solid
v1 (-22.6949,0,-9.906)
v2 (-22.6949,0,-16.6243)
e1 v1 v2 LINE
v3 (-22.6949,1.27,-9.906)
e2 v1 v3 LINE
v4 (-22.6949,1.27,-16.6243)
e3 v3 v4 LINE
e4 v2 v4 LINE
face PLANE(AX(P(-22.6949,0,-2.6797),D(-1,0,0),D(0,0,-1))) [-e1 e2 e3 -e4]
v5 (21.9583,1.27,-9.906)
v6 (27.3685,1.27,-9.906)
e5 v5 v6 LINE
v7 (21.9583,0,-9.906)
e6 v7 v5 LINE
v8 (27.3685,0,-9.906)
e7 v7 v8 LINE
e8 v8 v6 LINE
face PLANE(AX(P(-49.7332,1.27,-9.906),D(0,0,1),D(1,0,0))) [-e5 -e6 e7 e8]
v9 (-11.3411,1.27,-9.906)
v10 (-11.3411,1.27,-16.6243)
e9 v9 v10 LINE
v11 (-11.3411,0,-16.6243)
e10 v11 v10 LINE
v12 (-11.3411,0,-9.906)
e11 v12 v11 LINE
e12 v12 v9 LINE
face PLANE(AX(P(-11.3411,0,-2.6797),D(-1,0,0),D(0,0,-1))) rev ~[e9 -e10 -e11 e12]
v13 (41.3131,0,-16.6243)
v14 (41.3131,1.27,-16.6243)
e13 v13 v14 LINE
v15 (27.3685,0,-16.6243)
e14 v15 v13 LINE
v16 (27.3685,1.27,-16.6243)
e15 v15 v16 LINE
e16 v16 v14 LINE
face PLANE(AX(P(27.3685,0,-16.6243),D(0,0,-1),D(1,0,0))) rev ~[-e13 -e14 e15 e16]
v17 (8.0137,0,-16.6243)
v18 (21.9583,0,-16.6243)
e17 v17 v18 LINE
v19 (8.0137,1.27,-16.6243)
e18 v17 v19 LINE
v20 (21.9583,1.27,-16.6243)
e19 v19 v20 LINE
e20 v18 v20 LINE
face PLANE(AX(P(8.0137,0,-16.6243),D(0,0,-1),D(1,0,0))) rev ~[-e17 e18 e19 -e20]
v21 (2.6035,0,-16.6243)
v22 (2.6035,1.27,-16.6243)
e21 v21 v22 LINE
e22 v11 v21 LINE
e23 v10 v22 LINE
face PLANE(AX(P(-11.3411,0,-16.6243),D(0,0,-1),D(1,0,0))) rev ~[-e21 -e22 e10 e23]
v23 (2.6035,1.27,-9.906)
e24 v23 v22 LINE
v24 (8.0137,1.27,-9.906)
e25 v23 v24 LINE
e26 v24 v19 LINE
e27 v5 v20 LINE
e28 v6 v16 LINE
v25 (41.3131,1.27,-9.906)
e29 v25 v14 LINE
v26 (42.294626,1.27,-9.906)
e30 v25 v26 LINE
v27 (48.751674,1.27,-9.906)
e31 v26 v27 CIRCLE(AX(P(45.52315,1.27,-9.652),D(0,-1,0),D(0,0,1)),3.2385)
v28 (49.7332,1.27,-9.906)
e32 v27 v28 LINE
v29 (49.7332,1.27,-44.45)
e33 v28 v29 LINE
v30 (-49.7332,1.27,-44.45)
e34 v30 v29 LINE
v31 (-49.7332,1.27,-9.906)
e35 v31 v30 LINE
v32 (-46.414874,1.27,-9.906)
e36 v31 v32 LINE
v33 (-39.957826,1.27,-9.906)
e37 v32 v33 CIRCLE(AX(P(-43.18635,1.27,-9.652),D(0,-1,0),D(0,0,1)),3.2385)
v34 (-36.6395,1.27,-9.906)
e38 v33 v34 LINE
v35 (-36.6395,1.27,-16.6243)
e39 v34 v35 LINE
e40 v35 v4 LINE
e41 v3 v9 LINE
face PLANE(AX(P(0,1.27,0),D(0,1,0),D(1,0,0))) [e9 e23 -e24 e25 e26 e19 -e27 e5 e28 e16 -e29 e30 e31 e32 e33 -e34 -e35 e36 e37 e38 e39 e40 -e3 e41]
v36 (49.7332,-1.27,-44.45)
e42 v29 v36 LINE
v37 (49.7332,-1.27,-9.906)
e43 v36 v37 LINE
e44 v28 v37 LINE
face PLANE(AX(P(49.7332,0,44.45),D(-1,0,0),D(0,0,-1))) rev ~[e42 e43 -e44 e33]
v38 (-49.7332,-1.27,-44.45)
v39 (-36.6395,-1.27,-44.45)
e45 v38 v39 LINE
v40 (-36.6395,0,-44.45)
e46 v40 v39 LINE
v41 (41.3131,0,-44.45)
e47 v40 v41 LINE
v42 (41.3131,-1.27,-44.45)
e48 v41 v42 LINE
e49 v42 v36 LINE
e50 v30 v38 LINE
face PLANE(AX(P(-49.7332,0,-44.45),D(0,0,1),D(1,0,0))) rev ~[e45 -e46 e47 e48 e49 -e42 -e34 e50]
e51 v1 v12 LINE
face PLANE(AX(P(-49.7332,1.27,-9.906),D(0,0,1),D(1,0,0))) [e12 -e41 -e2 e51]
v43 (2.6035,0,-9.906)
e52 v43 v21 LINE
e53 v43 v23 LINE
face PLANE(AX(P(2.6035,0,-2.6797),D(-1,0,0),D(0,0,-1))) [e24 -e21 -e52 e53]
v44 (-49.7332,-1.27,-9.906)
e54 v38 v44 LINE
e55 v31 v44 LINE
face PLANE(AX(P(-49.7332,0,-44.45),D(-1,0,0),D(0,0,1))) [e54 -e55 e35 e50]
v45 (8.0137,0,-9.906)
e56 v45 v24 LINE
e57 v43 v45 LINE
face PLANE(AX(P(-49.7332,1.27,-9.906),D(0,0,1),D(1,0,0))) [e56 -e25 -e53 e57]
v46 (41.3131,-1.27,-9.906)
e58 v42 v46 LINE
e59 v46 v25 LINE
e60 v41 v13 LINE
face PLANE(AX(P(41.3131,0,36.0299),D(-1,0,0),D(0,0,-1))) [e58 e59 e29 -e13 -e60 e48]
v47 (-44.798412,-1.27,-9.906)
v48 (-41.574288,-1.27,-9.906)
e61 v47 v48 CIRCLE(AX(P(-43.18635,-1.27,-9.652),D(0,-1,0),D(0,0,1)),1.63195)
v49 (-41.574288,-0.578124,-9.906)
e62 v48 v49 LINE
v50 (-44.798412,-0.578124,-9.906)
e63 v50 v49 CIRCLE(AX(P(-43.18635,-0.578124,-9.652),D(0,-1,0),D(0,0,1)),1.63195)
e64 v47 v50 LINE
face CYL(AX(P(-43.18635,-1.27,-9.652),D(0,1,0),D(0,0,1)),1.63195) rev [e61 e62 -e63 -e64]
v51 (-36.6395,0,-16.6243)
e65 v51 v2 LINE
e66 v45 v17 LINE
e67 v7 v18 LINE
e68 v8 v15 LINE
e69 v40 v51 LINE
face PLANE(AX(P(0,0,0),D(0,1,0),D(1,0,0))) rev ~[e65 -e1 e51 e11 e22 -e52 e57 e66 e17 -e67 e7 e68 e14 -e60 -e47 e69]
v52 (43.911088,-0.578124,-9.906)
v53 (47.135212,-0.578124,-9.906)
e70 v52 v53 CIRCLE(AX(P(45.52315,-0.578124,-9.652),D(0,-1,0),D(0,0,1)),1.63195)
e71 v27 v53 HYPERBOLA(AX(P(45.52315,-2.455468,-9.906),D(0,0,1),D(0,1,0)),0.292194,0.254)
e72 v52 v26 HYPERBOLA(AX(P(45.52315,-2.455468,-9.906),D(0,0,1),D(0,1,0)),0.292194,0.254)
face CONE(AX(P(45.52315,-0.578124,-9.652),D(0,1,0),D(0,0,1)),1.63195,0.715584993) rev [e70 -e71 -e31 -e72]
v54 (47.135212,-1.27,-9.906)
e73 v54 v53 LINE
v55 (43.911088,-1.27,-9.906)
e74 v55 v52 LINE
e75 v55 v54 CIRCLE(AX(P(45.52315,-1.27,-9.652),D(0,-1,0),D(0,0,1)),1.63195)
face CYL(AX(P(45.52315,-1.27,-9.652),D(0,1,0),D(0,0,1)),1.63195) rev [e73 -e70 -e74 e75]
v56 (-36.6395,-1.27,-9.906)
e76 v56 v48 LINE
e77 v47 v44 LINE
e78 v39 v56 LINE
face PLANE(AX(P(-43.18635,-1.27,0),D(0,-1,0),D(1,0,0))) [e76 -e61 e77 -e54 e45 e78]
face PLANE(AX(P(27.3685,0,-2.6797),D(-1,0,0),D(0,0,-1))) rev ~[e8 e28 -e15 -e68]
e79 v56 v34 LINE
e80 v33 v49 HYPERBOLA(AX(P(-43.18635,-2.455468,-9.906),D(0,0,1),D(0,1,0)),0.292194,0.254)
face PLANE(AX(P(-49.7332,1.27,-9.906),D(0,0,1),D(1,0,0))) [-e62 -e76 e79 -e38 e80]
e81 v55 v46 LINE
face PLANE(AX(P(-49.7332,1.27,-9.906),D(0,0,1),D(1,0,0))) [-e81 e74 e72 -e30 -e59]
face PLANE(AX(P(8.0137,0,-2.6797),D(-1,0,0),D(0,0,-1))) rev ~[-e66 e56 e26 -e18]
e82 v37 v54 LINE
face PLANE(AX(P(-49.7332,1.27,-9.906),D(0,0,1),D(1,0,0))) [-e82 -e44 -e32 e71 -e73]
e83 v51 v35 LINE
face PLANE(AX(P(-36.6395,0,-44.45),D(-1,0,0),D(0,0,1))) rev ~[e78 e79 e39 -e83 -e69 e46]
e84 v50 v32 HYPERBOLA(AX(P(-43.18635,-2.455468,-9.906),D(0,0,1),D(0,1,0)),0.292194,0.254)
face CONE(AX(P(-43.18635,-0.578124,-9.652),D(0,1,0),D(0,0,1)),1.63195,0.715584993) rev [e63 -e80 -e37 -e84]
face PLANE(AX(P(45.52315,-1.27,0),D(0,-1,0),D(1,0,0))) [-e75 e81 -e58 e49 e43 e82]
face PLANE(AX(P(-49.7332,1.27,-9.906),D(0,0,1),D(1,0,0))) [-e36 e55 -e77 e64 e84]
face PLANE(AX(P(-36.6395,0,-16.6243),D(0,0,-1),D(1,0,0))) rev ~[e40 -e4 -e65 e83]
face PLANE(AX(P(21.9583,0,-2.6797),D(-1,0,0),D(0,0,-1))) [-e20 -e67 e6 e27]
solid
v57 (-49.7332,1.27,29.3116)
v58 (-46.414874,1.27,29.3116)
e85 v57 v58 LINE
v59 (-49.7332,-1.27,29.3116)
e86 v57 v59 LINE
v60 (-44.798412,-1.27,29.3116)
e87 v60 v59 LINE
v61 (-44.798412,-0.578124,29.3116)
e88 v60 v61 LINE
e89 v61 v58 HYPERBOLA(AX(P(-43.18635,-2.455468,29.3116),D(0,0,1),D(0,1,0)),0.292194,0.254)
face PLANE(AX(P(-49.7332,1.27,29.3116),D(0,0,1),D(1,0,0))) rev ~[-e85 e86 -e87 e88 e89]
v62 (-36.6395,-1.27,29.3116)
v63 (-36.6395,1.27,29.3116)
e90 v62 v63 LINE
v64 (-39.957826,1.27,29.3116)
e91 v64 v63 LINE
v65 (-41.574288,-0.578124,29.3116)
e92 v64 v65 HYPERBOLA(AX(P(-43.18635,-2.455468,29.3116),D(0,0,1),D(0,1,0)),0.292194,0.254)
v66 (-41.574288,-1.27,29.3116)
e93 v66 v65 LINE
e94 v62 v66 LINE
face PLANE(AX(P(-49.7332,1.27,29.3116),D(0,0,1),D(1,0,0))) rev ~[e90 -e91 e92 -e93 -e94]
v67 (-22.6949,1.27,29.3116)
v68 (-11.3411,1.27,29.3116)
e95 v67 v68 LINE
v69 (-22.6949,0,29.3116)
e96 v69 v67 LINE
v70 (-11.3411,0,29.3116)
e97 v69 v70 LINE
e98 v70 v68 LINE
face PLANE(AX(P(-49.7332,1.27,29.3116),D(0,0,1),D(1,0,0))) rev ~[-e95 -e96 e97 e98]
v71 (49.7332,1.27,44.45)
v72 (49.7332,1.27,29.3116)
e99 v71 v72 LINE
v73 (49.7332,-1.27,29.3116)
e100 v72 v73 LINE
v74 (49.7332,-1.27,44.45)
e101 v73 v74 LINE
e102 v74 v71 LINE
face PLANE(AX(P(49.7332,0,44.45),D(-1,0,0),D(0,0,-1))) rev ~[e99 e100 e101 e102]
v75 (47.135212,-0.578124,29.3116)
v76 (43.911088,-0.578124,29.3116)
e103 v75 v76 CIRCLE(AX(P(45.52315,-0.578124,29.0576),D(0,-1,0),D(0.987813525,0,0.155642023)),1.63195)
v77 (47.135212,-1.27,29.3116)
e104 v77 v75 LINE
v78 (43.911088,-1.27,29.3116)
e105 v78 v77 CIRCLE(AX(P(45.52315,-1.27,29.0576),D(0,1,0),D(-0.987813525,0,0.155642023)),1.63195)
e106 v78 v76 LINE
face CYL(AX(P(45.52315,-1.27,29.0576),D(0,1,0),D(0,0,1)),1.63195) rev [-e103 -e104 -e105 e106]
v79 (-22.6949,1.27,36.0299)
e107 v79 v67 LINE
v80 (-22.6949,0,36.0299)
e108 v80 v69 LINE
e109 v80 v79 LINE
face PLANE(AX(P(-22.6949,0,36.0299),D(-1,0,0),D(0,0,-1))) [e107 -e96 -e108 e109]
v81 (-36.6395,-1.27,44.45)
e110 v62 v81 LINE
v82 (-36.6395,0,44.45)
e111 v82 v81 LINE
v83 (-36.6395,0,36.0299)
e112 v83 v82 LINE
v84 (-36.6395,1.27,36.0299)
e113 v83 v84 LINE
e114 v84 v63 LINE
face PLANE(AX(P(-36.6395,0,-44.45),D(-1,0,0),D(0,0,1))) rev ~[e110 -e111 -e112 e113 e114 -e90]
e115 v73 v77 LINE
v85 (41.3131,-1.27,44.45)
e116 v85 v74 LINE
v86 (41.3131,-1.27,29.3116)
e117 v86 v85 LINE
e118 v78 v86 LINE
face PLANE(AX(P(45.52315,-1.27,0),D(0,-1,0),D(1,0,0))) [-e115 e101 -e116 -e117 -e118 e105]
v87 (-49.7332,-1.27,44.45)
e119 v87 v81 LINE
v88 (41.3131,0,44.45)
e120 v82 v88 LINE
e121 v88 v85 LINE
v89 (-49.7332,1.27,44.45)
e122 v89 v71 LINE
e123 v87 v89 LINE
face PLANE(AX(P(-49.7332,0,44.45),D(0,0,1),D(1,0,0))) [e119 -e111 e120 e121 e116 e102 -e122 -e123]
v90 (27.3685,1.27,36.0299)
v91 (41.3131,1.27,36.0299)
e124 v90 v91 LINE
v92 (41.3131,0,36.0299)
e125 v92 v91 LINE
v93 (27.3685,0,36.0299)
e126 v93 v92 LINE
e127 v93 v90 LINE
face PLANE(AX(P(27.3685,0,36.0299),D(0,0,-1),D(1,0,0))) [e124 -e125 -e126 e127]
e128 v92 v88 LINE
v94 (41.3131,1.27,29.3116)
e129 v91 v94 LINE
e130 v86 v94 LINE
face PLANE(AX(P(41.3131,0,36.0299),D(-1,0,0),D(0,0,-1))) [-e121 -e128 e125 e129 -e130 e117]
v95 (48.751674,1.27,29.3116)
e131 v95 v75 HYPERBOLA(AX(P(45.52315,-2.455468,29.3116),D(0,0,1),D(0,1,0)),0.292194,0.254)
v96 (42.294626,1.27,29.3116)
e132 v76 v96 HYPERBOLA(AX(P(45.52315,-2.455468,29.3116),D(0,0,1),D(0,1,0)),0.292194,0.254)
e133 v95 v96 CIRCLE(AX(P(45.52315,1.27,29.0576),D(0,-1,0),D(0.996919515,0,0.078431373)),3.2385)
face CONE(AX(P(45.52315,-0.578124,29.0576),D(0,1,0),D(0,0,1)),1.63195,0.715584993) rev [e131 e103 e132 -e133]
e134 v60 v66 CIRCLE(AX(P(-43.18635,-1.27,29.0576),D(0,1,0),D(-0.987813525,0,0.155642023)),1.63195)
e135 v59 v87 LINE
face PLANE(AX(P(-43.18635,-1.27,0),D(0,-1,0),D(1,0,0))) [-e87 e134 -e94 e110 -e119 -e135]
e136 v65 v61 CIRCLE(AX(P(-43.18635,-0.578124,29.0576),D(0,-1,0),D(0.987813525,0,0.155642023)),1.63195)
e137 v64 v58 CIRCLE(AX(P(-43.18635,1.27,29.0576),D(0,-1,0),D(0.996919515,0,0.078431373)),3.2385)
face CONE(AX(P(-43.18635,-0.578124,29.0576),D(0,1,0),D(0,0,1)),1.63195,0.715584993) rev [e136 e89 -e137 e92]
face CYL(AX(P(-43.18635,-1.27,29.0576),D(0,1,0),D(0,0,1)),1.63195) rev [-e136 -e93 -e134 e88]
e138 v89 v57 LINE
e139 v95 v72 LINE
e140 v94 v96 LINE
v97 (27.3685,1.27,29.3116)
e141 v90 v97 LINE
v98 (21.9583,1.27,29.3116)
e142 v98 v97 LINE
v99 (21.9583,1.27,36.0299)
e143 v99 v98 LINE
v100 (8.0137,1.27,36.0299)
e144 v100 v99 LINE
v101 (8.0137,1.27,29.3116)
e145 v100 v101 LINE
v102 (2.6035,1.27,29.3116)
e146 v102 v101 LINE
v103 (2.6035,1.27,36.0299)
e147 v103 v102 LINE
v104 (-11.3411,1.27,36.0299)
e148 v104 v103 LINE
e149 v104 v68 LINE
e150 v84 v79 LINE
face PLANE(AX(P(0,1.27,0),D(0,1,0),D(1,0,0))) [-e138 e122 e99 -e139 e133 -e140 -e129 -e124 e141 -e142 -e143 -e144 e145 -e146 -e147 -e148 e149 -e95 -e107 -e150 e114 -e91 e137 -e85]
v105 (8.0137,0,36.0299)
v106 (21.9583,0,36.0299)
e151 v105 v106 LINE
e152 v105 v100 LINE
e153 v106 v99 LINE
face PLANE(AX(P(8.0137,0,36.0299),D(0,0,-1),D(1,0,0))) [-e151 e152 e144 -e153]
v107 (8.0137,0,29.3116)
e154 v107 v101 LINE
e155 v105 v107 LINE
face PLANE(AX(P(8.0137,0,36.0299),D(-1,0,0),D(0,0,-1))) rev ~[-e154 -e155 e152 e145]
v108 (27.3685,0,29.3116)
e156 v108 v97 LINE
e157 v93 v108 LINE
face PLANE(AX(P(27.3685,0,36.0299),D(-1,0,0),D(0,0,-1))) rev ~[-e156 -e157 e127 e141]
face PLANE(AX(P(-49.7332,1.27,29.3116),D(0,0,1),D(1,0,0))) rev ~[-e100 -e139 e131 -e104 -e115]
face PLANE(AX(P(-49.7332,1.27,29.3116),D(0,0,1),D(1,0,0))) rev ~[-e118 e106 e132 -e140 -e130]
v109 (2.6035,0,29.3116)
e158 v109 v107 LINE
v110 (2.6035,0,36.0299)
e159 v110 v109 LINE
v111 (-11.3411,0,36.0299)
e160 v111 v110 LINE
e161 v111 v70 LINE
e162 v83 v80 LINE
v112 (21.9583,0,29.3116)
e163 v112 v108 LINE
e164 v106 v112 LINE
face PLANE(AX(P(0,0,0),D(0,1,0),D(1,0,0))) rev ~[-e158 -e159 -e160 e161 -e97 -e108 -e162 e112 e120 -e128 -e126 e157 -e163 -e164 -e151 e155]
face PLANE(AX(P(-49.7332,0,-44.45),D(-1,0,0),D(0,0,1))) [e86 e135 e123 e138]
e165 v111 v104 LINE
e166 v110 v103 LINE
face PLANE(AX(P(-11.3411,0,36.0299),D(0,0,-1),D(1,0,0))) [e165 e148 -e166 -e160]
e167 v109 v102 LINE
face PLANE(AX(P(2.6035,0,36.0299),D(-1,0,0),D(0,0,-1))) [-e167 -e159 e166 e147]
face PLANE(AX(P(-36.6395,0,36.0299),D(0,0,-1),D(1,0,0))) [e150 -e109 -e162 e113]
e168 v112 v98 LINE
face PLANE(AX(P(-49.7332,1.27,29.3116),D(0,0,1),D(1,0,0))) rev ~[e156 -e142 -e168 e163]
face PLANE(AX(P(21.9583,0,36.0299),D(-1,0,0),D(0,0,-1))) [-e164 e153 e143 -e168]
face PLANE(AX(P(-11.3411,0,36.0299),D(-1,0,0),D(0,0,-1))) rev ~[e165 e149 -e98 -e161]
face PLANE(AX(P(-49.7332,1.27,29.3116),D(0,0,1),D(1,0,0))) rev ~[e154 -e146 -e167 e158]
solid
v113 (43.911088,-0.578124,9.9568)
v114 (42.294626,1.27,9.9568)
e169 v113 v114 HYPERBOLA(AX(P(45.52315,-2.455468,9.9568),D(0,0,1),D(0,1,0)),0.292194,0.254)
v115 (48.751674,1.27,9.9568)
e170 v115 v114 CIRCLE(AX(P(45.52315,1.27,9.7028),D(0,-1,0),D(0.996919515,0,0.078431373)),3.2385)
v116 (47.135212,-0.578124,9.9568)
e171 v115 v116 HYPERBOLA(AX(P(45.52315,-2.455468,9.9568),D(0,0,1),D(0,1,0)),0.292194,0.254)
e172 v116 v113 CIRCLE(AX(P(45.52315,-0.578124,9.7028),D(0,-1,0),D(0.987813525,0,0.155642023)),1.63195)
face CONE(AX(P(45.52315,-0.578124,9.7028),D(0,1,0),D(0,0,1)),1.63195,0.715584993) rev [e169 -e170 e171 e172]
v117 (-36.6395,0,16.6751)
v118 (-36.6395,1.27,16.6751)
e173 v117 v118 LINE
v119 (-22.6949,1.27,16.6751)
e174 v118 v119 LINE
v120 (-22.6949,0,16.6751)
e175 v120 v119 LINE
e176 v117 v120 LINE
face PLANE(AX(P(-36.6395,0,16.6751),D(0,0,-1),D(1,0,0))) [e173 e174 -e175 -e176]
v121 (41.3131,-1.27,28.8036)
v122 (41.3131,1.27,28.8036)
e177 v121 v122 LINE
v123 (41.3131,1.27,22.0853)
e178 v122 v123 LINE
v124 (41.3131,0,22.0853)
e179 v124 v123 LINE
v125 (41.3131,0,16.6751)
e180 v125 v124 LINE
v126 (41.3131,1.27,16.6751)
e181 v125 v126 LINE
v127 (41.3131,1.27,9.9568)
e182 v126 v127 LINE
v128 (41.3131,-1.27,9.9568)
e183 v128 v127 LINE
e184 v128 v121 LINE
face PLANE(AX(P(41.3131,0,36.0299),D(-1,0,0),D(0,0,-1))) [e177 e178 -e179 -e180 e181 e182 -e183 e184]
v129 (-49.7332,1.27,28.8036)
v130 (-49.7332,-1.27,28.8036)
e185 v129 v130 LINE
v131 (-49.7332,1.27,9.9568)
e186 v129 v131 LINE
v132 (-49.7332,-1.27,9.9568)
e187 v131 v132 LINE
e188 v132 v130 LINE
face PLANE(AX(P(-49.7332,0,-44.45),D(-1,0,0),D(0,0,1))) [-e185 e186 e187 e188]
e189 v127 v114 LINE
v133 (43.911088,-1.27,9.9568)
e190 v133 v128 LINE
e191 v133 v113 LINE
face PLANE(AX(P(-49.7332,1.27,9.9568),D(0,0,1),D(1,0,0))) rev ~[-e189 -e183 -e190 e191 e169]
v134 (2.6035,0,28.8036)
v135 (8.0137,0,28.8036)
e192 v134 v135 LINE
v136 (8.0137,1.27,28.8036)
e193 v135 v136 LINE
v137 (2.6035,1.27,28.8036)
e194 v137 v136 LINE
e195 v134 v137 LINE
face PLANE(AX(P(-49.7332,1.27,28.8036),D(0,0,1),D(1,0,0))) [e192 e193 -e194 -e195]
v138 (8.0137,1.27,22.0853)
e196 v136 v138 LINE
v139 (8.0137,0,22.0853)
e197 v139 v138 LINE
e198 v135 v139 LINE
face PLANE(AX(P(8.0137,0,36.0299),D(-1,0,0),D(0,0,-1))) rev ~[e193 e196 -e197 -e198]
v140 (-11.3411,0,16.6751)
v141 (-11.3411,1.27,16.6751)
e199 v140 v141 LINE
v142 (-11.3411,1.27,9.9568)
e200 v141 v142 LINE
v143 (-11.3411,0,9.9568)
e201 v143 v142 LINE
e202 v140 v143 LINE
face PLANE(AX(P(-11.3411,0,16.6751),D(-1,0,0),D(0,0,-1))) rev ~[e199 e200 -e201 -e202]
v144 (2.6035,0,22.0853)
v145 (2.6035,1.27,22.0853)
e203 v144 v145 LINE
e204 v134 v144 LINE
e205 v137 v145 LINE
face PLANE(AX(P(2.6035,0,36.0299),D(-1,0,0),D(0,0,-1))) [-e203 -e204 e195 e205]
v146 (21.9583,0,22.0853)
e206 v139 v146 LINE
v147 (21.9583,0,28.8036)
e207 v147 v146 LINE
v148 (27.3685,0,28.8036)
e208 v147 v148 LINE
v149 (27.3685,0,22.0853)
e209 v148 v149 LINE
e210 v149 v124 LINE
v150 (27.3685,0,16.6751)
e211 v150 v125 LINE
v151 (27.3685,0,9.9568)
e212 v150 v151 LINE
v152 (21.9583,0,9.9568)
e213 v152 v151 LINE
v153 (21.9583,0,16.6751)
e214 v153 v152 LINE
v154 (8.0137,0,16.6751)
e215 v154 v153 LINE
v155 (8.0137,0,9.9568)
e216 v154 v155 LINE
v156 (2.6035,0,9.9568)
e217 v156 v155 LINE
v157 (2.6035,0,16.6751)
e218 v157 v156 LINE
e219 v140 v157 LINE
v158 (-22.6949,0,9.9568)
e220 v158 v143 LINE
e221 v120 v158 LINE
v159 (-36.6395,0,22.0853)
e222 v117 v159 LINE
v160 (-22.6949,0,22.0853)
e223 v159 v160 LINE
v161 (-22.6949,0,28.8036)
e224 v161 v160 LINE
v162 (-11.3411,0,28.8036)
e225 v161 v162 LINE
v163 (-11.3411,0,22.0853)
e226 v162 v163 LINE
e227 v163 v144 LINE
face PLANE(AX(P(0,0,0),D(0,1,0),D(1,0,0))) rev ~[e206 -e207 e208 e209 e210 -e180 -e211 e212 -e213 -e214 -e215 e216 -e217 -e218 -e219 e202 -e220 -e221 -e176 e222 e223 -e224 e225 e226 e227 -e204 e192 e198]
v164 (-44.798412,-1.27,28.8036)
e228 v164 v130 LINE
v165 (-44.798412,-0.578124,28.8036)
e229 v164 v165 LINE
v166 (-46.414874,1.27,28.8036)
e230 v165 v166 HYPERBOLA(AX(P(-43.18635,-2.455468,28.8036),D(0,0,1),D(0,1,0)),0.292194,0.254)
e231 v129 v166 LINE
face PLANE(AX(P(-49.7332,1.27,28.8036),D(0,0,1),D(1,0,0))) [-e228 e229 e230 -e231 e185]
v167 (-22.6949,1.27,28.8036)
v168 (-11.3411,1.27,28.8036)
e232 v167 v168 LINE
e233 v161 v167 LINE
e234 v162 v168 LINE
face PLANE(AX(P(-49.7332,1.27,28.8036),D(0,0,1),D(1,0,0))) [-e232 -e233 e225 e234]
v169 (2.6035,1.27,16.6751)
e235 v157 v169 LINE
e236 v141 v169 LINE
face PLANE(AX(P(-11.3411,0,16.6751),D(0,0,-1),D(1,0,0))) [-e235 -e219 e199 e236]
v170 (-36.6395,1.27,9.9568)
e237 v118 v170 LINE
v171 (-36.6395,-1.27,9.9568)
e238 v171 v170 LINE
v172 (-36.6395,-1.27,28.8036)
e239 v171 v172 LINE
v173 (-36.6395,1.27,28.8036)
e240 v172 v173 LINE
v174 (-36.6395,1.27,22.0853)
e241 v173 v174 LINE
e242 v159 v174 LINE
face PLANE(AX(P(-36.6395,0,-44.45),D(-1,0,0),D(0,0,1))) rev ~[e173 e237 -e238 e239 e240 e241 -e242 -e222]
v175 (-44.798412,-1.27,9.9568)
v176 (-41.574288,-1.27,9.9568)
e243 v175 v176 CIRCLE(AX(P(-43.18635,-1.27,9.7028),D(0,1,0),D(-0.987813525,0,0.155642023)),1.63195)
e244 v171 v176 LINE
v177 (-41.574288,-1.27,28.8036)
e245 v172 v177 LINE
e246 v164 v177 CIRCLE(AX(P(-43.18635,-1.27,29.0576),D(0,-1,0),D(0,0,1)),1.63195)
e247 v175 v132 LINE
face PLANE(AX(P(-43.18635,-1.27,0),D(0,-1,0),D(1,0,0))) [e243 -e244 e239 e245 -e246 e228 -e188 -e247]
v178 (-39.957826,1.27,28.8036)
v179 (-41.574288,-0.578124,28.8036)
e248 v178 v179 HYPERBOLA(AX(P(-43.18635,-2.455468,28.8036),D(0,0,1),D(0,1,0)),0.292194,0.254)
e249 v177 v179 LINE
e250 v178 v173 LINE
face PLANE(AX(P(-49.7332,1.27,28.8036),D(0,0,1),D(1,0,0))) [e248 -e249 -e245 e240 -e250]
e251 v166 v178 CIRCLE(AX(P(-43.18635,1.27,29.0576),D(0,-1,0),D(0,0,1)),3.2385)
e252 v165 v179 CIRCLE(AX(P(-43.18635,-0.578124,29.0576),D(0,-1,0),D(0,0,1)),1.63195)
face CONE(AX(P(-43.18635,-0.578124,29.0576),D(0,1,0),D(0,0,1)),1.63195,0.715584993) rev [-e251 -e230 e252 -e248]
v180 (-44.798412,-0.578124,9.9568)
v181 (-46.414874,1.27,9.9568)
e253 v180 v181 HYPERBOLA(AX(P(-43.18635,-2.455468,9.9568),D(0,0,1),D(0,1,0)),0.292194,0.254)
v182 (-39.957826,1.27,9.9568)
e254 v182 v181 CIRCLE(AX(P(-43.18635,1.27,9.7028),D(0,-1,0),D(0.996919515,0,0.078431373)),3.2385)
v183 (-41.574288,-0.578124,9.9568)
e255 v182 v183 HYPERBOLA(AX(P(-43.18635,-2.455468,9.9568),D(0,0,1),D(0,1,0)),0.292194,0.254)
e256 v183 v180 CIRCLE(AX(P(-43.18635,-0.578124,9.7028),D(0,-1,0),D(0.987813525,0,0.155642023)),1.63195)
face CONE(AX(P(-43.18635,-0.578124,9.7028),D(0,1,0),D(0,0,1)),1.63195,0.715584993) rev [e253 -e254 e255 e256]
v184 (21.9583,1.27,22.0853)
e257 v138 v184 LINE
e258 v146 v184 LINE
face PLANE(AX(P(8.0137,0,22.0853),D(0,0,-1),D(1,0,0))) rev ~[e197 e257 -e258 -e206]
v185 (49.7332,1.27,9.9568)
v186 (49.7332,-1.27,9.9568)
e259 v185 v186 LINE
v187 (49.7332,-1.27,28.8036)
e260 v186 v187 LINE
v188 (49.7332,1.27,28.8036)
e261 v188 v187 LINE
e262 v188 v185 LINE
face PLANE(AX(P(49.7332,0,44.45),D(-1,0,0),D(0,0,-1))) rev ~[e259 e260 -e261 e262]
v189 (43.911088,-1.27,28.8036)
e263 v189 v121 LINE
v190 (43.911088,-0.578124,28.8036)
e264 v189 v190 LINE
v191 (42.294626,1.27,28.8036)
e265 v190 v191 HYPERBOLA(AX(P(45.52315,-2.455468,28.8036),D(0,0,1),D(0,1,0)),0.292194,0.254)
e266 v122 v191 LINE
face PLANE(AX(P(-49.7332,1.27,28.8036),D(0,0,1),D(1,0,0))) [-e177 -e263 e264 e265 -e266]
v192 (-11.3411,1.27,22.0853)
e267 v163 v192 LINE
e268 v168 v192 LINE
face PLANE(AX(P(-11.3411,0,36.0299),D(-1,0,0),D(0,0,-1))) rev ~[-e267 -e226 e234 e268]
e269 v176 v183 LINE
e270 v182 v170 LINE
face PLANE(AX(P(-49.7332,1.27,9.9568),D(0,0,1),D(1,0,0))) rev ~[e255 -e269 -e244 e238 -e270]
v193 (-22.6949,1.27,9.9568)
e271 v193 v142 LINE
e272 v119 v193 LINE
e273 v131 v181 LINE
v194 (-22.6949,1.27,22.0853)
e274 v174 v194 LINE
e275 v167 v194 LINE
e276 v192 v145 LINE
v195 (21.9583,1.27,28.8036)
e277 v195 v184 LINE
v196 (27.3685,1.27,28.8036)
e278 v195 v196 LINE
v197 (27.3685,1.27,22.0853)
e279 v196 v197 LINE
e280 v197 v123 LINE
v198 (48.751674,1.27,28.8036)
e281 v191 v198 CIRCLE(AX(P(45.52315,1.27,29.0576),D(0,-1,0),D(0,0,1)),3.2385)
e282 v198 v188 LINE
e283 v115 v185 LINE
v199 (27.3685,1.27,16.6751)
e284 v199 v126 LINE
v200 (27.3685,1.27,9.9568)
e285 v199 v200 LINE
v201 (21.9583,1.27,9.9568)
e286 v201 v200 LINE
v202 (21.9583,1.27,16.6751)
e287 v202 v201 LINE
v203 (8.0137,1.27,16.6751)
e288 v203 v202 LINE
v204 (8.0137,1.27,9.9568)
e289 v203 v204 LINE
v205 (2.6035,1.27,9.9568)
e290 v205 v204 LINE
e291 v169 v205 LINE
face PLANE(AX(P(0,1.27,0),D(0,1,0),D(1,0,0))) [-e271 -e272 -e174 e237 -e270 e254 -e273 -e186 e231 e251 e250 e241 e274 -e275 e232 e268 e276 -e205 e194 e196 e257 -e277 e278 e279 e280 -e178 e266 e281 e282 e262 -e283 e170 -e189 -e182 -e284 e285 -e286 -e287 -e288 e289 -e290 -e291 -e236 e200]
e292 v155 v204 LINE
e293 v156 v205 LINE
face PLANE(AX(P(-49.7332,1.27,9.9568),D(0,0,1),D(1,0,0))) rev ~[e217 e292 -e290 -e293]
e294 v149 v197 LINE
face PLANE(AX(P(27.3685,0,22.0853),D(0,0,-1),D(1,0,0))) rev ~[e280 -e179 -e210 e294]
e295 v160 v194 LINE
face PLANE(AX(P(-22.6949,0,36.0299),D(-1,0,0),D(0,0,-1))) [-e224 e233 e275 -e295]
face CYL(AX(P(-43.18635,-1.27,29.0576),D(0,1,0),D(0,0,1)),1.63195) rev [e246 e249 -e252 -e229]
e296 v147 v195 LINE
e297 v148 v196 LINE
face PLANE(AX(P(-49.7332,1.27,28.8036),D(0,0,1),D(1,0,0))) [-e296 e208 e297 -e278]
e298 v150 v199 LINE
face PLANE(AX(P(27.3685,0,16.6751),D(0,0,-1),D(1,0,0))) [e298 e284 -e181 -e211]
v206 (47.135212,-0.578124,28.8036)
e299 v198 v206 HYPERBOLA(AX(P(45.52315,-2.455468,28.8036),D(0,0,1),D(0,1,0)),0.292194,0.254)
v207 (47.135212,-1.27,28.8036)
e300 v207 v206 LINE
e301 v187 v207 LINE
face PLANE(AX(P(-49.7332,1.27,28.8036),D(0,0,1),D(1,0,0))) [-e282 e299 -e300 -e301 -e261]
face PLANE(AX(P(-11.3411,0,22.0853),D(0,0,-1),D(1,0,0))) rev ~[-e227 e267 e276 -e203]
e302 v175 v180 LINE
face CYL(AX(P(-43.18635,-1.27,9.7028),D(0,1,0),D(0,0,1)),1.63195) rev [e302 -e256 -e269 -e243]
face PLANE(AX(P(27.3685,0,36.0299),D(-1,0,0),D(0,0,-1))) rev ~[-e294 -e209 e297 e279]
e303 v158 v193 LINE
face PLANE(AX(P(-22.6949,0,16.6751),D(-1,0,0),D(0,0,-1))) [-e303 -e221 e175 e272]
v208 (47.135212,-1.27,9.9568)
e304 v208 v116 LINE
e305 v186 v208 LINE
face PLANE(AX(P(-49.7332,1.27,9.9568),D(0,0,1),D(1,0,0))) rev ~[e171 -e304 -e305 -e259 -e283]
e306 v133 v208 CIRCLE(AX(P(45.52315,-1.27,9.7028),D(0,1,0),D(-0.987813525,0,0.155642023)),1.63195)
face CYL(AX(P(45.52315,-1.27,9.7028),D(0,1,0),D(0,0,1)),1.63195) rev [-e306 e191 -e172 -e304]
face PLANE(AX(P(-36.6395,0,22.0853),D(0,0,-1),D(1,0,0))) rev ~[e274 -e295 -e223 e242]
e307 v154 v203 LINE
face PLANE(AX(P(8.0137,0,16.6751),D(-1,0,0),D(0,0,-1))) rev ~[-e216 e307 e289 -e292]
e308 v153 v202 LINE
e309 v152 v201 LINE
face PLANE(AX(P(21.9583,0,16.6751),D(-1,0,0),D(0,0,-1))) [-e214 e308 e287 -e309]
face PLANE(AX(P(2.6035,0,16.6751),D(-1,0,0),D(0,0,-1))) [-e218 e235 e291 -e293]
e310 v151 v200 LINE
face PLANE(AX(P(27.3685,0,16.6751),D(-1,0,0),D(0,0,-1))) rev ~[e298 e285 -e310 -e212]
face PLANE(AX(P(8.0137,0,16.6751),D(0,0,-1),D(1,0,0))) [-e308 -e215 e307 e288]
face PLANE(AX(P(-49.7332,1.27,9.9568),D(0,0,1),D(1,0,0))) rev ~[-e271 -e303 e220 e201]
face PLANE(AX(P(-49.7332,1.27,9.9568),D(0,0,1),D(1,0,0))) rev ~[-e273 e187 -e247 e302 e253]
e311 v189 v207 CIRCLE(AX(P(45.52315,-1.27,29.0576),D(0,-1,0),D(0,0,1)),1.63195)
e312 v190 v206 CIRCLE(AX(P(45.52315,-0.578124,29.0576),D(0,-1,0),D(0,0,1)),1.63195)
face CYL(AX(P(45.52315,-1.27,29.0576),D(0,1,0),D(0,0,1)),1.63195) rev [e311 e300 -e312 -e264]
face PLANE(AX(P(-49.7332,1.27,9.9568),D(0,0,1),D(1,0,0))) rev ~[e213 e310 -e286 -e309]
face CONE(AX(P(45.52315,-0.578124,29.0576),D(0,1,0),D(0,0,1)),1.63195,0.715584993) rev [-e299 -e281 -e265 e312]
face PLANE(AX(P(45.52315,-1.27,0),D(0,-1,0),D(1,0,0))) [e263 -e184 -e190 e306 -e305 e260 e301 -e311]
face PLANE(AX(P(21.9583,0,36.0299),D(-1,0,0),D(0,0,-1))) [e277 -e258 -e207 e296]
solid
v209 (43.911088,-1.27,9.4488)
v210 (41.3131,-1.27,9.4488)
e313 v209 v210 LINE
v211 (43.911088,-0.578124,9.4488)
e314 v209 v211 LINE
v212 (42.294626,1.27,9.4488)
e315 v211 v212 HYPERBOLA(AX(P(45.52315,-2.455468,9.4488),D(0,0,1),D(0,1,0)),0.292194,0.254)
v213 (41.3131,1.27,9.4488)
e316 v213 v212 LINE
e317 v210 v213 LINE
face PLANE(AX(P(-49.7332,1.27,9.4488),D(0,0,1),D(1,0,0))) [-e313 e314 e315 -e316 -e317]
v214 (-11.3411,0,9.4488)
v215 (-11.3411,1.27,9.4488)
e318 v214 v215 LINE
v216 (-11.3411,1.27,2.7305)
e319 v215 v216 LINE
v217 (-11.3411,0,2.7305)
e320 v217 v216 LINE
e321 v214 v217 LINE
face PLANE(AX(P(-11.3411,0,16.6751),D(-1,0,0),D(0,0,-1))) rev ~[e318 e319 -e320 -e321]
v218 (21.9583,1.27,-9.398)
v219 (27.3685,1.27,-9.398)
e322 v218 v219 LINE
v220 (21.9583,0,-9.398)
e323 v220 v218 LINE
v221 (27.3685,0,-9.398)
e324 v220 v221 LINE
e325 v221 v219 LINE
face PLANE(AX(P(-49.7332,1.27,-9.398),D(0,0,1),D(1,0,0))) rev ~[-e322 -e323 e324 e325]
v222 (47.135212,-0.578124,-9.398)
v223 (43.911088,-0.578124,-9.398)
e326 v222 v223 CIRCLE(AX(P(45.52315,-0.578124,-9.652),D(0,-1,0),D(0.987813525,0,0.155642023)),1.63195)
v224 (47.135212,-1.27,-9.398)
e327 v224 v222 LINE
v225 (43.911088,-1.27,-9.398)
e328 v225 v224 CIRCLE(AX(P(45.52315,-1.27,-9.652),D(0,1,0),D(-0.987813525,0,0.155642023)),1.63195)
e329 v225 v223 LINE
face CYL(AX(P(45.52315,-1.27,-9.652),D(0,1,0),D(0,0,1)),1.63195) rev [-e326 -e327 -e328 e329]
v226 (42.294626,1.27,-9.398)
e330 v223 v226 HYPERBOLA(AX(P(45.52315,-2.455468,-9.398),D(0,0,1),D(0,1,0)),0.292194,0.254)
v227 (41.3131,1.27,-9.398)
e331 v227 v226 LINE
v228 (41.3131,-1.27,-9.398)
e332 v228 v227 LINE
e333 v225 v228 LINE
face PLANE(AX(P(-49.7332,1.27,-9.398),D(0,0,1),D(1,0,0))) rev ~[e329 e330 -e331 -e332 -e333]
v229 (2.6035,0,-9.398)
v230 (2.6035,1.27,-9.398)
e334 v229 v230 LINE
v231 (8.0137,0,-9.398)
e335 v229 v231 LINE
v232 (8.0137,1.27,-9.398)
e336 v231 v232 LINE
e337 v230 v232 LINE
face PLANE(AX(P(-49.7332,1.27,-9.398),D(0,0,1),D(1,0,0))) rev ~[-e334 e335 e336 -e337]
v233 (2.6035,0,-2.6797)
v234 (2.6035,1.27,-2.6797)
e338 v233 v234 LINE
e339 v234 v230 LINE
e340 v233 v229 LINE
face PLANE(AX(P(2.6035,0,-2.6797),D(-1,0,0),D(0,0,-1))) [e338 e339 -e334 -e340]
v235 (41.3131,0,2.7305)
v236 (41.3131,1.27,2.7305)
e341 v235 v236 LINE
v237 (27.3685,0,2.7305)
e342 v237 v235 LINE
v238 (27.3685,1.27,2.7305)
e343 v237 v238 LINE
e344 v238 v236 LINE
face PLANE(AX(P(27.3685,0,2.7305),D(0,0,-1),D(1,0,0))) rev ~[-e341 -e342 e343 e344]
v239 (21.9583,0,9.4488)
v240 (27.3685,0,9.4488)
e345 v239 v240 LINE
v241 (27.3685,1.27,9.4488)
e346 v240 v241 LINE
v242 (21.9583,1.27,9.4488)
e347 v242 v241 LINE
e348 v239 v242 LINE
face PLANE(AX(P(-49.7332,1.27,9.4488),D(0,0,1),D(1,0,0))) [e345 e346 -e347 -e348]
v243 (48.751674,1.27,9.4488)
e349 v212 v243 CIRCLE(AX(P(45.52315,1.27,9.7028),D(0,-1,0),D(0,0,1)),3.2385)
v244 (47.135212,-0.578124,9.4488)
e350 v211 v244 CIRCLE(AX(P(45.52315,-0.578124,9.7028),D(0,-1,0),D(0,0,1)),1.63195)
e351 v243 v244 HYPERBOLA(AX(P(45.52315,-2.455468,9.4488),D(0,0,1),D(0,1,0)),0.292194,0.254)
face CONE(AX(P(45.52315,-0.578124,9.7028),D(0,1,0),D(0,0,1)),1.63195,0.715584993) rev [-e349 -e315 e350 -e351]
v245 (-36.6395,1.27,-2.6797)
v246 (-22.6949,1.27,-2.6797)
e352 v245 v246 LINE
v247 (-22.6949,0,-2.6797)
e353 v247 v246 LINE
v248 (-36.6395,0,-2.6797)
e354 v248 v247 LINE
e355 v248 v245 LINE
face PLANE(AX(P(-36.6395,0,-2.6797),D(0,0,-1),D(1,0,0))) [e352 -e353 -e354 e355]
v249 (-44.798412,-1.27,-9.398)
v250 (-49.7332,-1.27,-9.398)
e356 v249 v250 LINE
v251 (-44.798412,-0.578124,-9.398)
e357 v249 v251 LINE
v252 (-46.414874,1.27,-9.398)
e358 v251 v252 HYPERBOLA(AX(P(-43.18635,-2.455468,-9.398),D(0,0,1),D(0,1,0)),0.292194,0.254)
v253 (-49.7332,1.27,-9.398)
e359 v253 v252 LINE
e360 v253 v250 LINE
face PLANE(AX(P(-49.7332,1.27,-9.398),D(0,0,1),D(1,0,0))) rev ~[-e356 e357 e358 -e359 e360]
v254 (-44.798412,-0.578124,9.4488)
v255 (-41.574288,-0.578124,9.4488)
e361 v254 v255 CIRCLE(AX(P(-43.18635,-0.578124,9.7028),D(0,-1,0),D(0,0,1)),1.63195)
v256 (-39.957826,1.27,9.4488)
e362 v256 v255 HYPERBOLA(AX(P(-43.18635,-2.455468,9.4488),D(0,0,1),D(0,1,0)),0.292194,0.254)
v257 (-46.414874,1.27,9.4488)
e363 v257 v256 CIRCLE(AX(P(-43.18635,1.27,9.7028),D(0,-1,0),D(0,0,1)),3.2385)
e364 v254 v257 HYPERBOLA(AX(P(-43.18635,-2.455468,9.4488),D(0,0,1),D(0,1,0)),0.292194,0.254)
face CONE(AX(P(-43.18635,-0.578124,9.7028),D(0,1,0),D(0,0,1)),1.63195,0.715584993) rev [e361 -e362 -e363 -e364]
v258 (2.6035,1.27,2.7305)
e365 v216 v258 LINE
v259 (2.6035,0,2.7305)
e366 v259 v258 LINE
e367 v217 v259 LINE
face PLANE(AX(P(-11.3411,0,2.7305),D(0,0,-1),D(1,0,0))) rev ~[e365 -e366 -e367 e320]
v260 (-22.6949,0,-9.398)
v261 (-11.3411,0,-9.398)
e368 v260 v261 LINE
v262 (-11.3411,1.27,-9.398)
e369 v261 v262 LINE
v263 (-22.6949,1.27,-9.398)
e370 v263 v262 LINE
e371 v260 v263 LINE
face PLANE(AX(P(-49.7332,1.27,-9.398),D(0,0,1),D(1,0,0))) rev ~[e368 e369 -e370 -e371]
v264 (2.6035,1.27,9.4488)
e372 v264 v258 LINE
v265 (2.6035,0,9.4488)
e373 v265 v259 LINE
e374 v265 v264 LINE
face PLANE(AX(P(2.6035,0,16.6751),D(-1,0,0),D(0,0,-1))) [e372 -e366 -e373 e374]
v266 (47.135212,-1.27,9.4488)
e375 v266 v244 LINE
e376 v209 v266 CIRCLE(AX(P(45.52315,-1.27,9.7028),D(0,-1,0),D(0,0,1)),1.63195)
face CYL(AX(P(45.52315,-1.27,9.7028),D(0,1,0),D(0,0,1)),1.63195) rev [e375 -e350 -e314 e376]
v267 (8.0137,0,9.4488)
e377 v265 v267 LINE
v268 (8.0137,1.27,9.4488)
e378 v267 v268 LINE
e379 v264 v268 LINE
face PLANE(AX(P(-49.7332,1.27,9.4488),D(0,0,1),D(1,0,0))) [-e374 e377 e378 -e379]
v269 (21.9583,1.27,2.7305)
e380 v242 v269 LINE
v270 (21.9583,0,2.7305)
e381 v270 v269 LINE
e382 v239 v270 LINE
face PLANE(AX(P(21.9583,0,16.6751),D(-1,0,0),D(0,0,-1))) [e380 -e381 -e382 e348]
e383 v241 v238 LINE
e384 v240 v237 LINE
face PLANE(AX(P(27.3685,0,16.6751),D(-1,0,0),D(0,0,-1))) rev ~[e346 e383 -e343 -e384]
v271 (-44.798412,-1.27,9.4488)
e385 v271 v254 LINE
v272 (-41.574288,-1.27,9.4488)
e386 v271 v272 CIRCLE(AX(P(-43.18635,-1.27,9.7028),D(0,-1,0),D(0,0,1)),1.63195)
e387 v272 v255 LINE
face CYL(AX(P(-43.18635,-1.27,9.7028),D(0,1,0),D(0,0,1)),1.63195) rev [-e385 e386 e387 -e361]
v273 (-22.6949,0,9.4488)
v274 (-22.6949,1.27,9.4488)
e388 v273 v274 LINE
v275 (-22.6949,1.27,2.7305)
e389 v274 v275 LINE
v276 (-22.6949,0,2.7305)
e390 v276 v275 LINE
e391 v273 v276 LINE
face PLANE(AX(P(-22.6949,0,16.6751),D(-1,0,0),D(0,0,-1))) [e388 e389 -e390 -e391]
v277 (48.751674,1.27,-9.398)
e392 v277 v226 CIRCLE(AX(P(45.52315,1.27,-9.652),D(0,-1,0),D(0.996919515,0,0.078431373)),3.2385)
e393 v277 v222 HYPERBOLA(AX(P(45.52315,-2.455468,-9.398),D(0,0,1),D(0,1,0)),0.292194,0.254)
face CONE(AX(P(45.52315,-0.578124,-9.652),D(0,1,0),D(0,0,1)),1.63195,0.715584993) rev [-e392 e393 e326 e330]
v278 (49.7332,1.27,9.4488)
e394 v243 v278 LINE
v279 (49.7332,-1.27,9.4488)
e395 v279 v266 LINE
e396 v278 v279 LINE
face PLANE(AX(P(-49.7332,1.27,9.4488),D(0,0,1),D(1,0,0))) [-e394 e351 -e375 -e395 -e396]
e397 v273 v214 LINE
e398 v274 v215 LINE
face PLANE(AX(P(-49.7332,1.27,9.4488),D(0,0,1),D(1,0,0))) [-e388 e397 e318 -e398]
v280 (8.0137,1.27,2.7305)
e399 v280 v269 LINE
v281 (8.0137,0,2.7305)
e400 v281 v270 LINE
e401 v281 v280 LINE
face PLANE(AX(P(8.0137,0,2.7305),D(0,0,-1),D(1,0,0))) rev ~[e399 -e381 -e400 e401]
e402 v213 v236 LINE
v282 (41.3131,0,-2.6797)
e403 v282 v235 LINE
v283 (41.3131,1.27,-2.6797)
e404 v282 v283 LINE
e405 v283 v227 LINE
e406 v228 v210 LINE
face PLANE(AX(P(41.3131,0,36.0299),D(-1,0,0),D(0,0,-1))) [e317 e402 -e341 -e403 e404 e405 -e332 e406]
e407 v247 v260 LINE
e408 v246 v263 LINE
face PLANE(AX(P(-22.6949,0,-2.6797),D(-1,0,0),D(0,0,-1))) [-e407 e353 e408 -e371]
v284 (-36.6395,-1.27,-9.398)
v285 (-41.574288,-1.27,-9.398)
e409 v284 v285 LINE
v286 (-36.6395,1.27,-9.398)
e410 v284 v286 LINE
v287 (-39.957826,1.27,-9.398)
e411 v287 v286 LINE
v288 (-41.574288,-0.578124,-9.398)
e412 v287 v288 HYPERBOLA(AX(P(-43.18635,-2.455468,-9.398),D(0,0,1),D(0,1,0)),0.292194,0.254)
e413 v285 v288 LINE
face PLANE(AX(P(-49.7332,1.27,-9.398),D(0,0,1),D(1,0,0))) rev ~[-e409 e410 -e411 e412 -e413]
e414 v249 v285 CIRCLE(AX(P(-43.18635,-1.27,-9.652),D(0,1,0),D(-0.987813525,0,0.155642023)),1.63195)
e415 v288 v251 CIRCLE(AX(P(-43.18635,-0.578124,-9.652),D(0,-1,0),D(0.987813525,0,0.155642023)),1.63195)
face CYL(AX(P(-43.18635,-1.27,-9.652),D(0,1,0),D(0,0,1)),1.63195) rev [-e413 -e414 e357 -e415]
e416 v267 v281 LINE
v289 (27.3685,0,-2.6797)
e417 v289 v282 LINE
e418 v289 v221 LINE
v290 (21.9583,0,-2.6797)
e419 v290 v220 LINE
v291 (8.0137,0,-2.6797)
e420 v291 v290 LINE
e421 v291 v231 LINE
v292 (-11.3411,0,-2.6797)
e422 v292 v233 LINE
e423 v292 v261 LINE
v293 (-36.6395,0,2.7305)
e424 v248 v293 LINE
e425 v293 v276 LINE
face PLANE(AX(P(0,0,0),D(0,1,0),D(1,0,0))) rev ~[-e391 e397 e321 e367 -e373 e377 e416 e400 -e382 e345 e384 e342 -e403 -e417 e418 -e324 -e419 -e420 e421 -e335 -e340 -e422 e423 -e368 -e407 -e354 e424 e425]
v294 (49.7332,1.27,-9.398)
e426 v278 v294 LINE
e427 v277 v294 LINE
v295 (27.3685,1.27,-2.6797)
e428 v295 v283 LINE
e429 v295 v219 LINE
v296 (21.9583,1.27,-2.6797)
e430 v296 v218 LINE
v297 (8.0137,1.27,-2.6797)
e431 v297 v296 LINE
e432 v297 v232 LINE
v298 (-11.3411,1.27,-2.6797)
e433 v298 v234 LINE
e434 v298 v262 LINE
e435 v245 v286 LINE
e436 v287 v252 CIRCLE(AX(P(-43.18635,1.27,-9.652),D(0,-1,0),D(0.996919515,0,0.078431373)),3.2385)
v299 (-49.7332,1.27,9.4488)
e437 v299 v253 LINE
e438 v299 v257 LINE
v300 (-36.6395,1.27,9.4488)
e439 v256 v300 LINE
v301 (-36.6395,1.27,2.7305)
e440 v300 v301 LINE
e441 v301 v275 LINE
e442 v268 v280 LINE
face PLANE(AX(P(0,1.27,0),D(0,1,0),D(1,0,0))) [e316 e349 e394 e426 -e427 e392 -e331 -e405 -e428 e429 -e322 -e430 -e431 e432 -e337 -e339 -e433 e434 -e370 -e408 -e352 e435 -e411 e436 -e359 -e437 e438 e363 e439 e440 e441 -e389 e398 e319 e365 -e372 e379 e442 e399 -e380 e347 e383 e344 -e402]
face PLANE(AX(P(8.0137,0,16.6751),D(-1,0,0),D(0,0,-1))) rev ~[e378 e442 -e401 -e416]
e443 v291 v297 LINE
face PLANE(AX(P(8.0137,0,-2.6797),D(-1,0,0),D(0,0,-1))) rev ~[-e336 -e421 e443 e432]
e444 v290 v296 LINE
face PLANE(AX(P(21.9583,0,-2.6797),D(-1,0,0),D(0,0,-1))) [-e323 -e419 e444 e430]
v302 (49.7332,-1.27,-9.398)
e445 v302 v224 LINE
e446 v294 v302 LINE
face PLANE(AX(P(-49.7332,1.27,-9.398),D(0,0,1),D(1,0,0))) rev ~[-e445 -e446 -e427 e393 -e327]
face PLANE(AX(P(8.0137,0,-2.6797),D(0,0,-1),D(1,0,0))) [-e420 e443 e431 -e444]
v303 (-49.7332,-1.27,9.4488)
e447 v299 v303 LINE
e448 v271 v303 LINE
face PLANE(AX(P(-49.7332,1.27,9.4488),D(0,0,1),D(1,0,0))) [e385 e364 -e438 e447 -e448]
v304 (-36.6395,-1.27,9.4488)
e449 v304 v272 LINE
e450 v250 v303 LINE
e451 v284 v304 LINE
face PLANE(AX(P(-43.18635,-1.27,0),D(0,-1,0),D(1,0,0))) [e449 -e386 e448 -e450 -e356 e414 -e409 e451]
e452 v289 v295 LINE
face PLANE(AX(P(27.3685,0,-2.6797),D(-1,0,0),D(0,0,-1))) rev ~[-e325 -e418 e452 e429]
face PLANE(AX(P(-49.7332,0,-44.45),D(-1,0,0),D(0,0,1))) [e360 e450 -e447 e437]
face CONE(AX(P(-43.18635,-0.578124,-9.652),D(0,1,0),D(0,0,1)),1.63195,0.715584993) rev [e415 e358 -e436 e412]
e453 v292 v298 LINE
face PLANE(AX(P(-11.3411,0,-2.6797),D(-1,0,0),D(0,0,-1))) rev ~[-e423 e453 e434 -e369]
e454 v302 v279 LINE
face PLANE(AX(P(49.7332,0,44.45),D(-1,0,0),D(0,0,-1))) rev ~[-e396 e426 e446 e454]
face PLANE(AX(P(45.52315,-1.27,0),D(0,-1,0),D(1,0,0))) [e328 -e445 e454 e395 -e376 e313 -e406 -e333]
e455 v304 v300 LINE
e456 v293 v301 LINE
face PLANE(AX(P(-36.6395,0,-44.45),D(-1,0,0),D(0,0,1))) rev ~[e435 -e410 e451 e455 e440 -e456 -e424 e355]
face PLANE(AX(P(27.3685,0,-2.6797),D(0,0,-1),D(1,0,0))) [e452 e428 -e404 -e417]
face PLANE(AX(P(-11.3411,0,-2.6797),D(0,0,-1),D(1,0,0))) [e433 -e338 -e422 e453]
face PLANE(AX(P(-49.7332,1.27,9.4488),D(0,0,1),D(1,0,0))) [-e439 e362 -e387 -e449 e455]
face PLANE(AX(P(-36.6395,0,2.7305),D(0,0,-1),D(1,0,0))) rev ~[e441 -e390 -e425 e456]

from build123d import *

# Parameters (mm, degrees)
SKETCH1_W                                     = 99.4664
SKETCH1_H                                     = 88.9
SKETCH1_W_2                                   = 13.9446
SKETCH1_H_2                                   = 13.9446
BOSS_EXTRUDE1_DEPTH                           = 1.27
SKETCH6_W                                     = 13.0937
SKETCH6_H                                     = 88.9
SKETCH6_W_2                                   = 8.4201
BOSS_EXTRUDE2_DEPTH                           = 1.27
SKETCH2_W                                     = 99.4664
SKETCH2_H                                     = 0.508
CUT_EXTRUDE_THIN2_DEPTH                       = 67.750620089
CSK_FOR_4_FLAT_HEAD_SOCKET_CAP_SCREW1_A_COUNT = 2
CSK_FOR_4_FLAT_HEAD_SOCKET_CAP_SCREW1_A_PITCH = 19.3548
CSK_FOR_4_FLAT_HEAD_SOCKET_CAP_SCRE_2_COUNT   = 2
CSK_FOR_4_FLAT_HEAD_SOCKET_CAP_SCRE_2_PITCH   = 38.7096
CSK_FOR_4_FLAT_HEAD_SOCKET_CAP_SCRE_3_COUNT   = 2
CSK_FOR_4_FLAT_HEAD_SOCKET_CAP_SCRE_3_PITCH   = 88.7095
CSK_FOR_4_FLAT_HEAD_SOCKET_CAP_SCRE_4_COUNT   = 2
CSK_FOR_4_FLAT_HEAD_SOCKET_CAP_SCRE_4_PITCH   = 90.796385794
CSK_FOR_4_FLAT_HEAD_SOCKET_CAP_SCRE_5_COUNT   = 2
CSK_FOR_4_FLAT_HEAD_SOCKET_CAP_SCRE_5_PITCH   = 96.7874399


with BuildPart() as part:
    # Sketch1 → Boss-Extrude1 (new body)
    with BuildSketch(Plane(origin=(0, 0, 0), x_dir=(1, 0, 0), z_dir=(0, 1, 0))):
        Rectangle(SKETCH1_W, SKETCH1_H)
        with Locations((-4.3688, 9.652)):
            Rectangle(SKETCH1_W_2, SKETCH1_H_2, mode=Mode.SUBTRACT)
        with Locations((14.986, 9.652)):
            Rectangle(SKETCH1_W_2, SKETCH1_H_2, mode=Mode.SUBTRACT)
        with Locations((34.3408, 9.652)):
            Rectangle(SKETCH1_W_2, SKETCH1_H_2, mode=Mode.SUBTRACT)
        with Locations((-4.3688, -9.7028)):
            Rectangle(SKETCH1_W_2, SKETCH1_H_2, mode=Mode.SUBTRACT)
        with Locations((14.986, -9.7028)):
            Rectangle(SKETCH1_W_2, SKETCH1_H_2, mode=Mode.SUBTRACT)
        with Locations((34.3408, -9.7028)):
            Rectangle(SKETCH1_W_2, SKETCH1_H_2, mode=Mode.SUBTRACT)
        with Locations((-4.3688, -29.0576)):
            Rectangle(SKETCH1_W_2, SKETCH1_H_2, mode=Mode.SUBTRACT)
        with Locations((14.986, -29.0576)):
            Rectangle(SKETCH1_W_2, SKETCH1_H_2, mode=Mode.SUBTRACT)
        with Locations((34.3408, -29.0576)):
            Rectangle(SKETCH1_W_2, SKETCH1_H_2, mode=Mode.SUBTRACT)
        with Locations((-29.6672, 9.652)):
            Rectangle(SKETCH1_W_2, SKETCH1_H_2, mode=Mode.SUBTRACT)
        with Locations((-29.6672, -9.7028)):
            Rectangle(SKETCH1_W_2, SKETCH1_H_2, mode=Mode.SUBTRACT)
        with Locations((-29.6672, -29.0576)):
            Rectangle(SKETCH1_W_2, SKETCH1_H_2, mode=Mode.SUBTRACT)
    extrude(amount=BOSS_EXTRUDE1_DEPTH)

    # Sketch6 → Boss-Extrude2 (add)
    with BuildSketch(Plane.XZ):
        with Locations((-43.18635, 0)):
            Rectangle(SKETCH6_W, SKETCH6_H)
        with Locations((45.52315, 0)):
            Rectangle(SKETCH6_W_2, SKETCH6_H)
    extrude(amount=BOSS_EXTRUDE2_DEPTH)

    # Sketch2 → Cut-Extrude-Thin2 (cut, through all)
    with BuildSketch(Plane(origin=(0, 1.27, 0), x_dir=(1, 0, 0), z_dir=(0, 1, 0))):
        with Locations((0, 9.652)):
            Rectangle(SKETCH2_W, SKETCH2_H)
        with Locations((0, -9.7028)):
            Rectangle(SKETCH2_W, SKETCH2_H)
        with Locations((0, -29.0576)):
            Rectangle(SKETCH2_W, SKETCH2_H)
    extrude(amount=-CUT_EXTRUDE_THIN2_DEPTH, mode=Mode.SUBTRACT)


with BuildPart() as cut_extrude_thin2_piece_1:
    # of the separate pieces the step leaves, piece 1, a body of its own (cut_extrude_thin2_pieces)
    add(part.part.solids().sort_by_distance((-49.7332, 1.27, -44.45))[0])


with BuildPart() as cut_extrude_thin2_piece_2:
    # of the separate pieces the step leaves, piece 2, a body of its own (cut_extrude_thin2_pieces)
    add(part.part.solids().sort_by_distance((-49.7332, 1.27, -9.398))[0])


with BuildPart() as cut_extrude_thin2_piece_3:
    # of the separate pieces the step leaves, piece 3, a body of its own (cut_extrude_thin2_pieces)
    add(part.part.solids().sort_by_distance((-49.7332, 1.27, 9.9568))[0])


with BuildPart() as cut_extrude_thin2_piece_4:
    # of the separate pieces the step leaves, piece 4, a body of its own (cut_extrude_thin2_pieces)
    add(part.part.solids().sort_by_distance((-49.7332, 1.27, 44.45))[0])


with BuildPart() as csk_for_4_flat_head_socket_cap_screw1_tool:
    # Sketch7 → CSK for #4 Flat Head Socket Cap Screw1 (revolve)
    with BuildSketch(Plane(origin=(-43.18635, 1.27, -9.652), x_dir=(0, 0, 1), z_dir=(1, 0, 0))):
        Polygon((0, 0), (0, 2.54), (1.63195, 2.54), (1.63195, 1.848124365), (3.2385, 0), align=None)
    csk_for_4_flat_head_socket_cap_screw1 = revolve(axis=Axis((-43.18635, 7.62, -9.652), (0, -1, 0)))


with BuildPart() as cut_extrude_thin2_piece_1_1:
    add(cut_extrude_thin2_piece_1.part)

    # CSK for #4 Flat Head Socket Cap Screw1: cut by csk_for_4_flat_head_socket_cap_screw1_tool
    add(csk_for_4_flat_head_socket_cap_screw1_tool.part, mode=Mode.SUBTRACT)


with BuildPart() as cut_extrude_thin2_piece_2_1:
    add(cut_extrude_thin2_piece_2.part)

    # CSK for #4 Flat Head Socket Cap Screw1: cut by csk_for_4_flat_head_socket_cap_screw1_tool
    add(csk_for_4_flat_head_socket_cap_screw1_tool.part, mode=Mode.SUBTRACT)


with BuildPart() as csk_for_4_flat_head_socket_cap_screw1_a_tool:
    # CSK for #4 Flat Head Socket Cap Screw1 a: CSK for #4 Flat Head Socket Cap Screw1 ×2
    with Locations(*[(0, 0, i * CSK_FOR_4_FLAT_HEAD_SOCKET_CAP_SCREW1_A_PITCH) for i in range(1, CSK_FOR_4_FLAT_HEAD_SOCKET_CAP_SCREW1_A_COUNT)]):
        add(csk_for_4_flat_head_socket_cap_screw1)


with BuildPart() as cut_extrude_thin2_piece_2_2:
    add(cut_extrude_thin2_piece_2_1.part)

    # CSK for #4 Flat Head Socket Cap Screw1 a: cut by csk_for_4_flat_head_socket_cap_screw1_a_tool
    add(csk_for_4_flat_head_socket_cap_screw1_a_tool.part, mode=Mode.SUBTRACT)


with BuildPart() as cut_extrude_thin2_piece_3_1:
    add(cut_extrude_thin2_piece_3.part)

    # CSK for #4 Flat Head Socket Cap Screw1 a: cut by csk_for_4_flat_head_socket_cap_screw1_a_tool
    add(csk_for_4_flat_head_socket_cap_screw1_a_tool.part, mode=Mode.SUBTRACT)


with BuildPart() as csk_for_4_flat_head_socket_cap_scre_2_tool:
    # CSK for _4 Flat Head Socket Cap Scre 2: CSK for #4 Flat Head Socket Cap Screw1 ×2
    with Locations(*[(0, 0, i * CSK_FOR_4_FLAT_HEAD_SOCKET_CAP_SCRE_2_PITCH) for i in range(1, CSK_FOR_4_FLAT_HEAD_SOCKET_CAP_SCRE_2_COUNT)]):
        add(csk_for_4_flat_head_socket_cap_screw1)


with BuildPart() as cut_extrude_thin2_piece_3_2:
    add(cut_extrude_thin2_piece_3_1.part)

    # CSK for _4 Flat Head Socket Cap Scre 2: cut by csk_for_4_flat_head_socket_cap_scre_2_tool
    add(csk_for_4_flat_head_socket_cap_scre_2_tool.part, mode=Mode.SUBTRACT)


with BuildPart() as cut_extrude_thin2_piece_4_1:
    add(cut_extrude_thin2_piece_4.part)

    # CSK for _4 Flat Head Socket Cap Scre 2: cut by csk_for_4_flat_head_socket_cap_scre_2_tool
    add(csk_for_4_flat_head_socket_cap_scre_2_tool.part, mode=Mode.SUBTRACT)


with BuildPart() as csk_for_4_flat_head_socket_cap_scre_3_tool:
    # CSK for _4 Flat Head Socket Cap Scre 3: CSK for #4 Flat Head Socket Cap Screw1 ×2
    with Locations(*[(i * CSK_FOR_4_FLAT_HEAD_SOCKET_CAP_SCRE_3_PITCH, 0, 0) for i in range(1, CSK_FOR_4_FLAT_HEAD_SOCKET_CAP_SCRE_3_COUNT)]):
        add(csk_for_4_flat_head_socket_cap_screw1)


with BuildPart() as cut_extrude_thin2_piece_1_2:
    add(cut_extrude_thin2_piece_1_1.part)

    # CSK for _4 Flat Head Socket Cap Scre 3: cut by csk_for_4_flat_head_socket_cap_scre_3_tool
    add(csk_for_4_flat_head_socket_cap_scre_3_tool.part, mode=Mode.SUBTRACT)


with BuildPart() as cut_extrude_thin2_piece_2_3:
    add(cut_extrude_thin2_piece_2_2.part)

    # CSK for _4 Flat Head Socket Cap Scre 3: cut by csk_for_4_flat_head_socket_cap_scre_3_tool
    add(csk_for_4_flat_head_socket_cap_scre_3_tool.part, mode=Mode.SUBTRACT)


with BuildPart() as csk_for_4_flat_head_socket_cap_scre_4_tool:
    # CSK for _4 Flat Head Socket Cap Scre 4: CSK for #4 Flat Head Socket Cap Screw1 ×2
    with Locations(*[Vector(0.9770157614099922, 0, 0.21316707521672607) * (i * CSK_FOR_4_FLAT_HEAD_SOCKET_CAP_SCRE_4_PITCH) for i in range(1, CSK_FOR_4_FLAT_HEAD_SOCKET_CAP_SCRE_4_COUNT)]):
        add(csk_for_4_flat_head_socket_cap_screw1)


with BuildPart() as cut_extrude_thin2_piece_2_4:
    add(cut_extrude_thin2_piece_2_3.part)

    # CSK for _4 Flat Head Socket Cap Scre 4: cut by csk_for_4_flat_head_socket_cap_scre_4_tool
    add(csk_for_4_flat_head_socket_cap_scre_4_tool.part, mode=Mode.SUBTRACT)


with BuildPart() as cut_extrude_thin2_piece_3_3:
    add(cut_extrude_thin2_piece_3_2.part)

    # CSK for _4 Flat Head Socket Cap Scre 4: cut by csk_for_4_flat_head_socket_cap_scre_4_tool
    add(csk_for_4_flat_head_socket_cap_scre_4_tool.part, mode=Mode.SUBTRACT)


with BuildPart() as csk_for_4_flat_head_socket_cap_scre_5_tool:
    # CSK for _4 Flat Head Socket Cap Scre 5: CSK for #4 Flat Head Socket Cap Screw1 ×2
    with Locations(*[Vector(0.9165393783696331, 0, 0.39994445601584067) * (i * CSK_FOR_4_FLAT_HEAD_SOCKET_CAP_SCRE_5_PITCH) for i in range(1, CSK_FOR_4_FLAT_HEAD_SOCKET_CAP_SCRE_5_COUNT)]):
        add(csk_for_4_flat_head_socket_cap_screw1)


with BuildPart() as cut_extrude_thin2_piece_3_4:
    add(cut_extrude_thin2_piece_3_3.part)

    # CSK for _4 Flat Head Socket Cap Scre 5: cut by csk_for_4_flat_head_socket_cap_scre_5_tool
    add(csk_for_4_flat_head_socket_cap_scre_5_tool.part, mode=Mode.SUBTRACT)


with BuildPart() as cut_extrude_thin2_piece_4_2:
    add(cut_extrude_thin2_piece_4_1.part)

    # CSK for _4 Flat Head Socket Cap Scre 5: cut by csk_for_4_flat_head_socket_cap_scre_5_tool
    add(csk_for_4_flat_head_socket_cap_scre_5_tool.part, mode=Mode.SUBTRACT)


solid = Compound([cut_extrude_thin2_piece_1_2.part, cut_extrude_thin2_piece_2_4.part, cut_extrude_thin2_piece_3_4.part, cut_extrude_thin2_piece_4_2.part])
